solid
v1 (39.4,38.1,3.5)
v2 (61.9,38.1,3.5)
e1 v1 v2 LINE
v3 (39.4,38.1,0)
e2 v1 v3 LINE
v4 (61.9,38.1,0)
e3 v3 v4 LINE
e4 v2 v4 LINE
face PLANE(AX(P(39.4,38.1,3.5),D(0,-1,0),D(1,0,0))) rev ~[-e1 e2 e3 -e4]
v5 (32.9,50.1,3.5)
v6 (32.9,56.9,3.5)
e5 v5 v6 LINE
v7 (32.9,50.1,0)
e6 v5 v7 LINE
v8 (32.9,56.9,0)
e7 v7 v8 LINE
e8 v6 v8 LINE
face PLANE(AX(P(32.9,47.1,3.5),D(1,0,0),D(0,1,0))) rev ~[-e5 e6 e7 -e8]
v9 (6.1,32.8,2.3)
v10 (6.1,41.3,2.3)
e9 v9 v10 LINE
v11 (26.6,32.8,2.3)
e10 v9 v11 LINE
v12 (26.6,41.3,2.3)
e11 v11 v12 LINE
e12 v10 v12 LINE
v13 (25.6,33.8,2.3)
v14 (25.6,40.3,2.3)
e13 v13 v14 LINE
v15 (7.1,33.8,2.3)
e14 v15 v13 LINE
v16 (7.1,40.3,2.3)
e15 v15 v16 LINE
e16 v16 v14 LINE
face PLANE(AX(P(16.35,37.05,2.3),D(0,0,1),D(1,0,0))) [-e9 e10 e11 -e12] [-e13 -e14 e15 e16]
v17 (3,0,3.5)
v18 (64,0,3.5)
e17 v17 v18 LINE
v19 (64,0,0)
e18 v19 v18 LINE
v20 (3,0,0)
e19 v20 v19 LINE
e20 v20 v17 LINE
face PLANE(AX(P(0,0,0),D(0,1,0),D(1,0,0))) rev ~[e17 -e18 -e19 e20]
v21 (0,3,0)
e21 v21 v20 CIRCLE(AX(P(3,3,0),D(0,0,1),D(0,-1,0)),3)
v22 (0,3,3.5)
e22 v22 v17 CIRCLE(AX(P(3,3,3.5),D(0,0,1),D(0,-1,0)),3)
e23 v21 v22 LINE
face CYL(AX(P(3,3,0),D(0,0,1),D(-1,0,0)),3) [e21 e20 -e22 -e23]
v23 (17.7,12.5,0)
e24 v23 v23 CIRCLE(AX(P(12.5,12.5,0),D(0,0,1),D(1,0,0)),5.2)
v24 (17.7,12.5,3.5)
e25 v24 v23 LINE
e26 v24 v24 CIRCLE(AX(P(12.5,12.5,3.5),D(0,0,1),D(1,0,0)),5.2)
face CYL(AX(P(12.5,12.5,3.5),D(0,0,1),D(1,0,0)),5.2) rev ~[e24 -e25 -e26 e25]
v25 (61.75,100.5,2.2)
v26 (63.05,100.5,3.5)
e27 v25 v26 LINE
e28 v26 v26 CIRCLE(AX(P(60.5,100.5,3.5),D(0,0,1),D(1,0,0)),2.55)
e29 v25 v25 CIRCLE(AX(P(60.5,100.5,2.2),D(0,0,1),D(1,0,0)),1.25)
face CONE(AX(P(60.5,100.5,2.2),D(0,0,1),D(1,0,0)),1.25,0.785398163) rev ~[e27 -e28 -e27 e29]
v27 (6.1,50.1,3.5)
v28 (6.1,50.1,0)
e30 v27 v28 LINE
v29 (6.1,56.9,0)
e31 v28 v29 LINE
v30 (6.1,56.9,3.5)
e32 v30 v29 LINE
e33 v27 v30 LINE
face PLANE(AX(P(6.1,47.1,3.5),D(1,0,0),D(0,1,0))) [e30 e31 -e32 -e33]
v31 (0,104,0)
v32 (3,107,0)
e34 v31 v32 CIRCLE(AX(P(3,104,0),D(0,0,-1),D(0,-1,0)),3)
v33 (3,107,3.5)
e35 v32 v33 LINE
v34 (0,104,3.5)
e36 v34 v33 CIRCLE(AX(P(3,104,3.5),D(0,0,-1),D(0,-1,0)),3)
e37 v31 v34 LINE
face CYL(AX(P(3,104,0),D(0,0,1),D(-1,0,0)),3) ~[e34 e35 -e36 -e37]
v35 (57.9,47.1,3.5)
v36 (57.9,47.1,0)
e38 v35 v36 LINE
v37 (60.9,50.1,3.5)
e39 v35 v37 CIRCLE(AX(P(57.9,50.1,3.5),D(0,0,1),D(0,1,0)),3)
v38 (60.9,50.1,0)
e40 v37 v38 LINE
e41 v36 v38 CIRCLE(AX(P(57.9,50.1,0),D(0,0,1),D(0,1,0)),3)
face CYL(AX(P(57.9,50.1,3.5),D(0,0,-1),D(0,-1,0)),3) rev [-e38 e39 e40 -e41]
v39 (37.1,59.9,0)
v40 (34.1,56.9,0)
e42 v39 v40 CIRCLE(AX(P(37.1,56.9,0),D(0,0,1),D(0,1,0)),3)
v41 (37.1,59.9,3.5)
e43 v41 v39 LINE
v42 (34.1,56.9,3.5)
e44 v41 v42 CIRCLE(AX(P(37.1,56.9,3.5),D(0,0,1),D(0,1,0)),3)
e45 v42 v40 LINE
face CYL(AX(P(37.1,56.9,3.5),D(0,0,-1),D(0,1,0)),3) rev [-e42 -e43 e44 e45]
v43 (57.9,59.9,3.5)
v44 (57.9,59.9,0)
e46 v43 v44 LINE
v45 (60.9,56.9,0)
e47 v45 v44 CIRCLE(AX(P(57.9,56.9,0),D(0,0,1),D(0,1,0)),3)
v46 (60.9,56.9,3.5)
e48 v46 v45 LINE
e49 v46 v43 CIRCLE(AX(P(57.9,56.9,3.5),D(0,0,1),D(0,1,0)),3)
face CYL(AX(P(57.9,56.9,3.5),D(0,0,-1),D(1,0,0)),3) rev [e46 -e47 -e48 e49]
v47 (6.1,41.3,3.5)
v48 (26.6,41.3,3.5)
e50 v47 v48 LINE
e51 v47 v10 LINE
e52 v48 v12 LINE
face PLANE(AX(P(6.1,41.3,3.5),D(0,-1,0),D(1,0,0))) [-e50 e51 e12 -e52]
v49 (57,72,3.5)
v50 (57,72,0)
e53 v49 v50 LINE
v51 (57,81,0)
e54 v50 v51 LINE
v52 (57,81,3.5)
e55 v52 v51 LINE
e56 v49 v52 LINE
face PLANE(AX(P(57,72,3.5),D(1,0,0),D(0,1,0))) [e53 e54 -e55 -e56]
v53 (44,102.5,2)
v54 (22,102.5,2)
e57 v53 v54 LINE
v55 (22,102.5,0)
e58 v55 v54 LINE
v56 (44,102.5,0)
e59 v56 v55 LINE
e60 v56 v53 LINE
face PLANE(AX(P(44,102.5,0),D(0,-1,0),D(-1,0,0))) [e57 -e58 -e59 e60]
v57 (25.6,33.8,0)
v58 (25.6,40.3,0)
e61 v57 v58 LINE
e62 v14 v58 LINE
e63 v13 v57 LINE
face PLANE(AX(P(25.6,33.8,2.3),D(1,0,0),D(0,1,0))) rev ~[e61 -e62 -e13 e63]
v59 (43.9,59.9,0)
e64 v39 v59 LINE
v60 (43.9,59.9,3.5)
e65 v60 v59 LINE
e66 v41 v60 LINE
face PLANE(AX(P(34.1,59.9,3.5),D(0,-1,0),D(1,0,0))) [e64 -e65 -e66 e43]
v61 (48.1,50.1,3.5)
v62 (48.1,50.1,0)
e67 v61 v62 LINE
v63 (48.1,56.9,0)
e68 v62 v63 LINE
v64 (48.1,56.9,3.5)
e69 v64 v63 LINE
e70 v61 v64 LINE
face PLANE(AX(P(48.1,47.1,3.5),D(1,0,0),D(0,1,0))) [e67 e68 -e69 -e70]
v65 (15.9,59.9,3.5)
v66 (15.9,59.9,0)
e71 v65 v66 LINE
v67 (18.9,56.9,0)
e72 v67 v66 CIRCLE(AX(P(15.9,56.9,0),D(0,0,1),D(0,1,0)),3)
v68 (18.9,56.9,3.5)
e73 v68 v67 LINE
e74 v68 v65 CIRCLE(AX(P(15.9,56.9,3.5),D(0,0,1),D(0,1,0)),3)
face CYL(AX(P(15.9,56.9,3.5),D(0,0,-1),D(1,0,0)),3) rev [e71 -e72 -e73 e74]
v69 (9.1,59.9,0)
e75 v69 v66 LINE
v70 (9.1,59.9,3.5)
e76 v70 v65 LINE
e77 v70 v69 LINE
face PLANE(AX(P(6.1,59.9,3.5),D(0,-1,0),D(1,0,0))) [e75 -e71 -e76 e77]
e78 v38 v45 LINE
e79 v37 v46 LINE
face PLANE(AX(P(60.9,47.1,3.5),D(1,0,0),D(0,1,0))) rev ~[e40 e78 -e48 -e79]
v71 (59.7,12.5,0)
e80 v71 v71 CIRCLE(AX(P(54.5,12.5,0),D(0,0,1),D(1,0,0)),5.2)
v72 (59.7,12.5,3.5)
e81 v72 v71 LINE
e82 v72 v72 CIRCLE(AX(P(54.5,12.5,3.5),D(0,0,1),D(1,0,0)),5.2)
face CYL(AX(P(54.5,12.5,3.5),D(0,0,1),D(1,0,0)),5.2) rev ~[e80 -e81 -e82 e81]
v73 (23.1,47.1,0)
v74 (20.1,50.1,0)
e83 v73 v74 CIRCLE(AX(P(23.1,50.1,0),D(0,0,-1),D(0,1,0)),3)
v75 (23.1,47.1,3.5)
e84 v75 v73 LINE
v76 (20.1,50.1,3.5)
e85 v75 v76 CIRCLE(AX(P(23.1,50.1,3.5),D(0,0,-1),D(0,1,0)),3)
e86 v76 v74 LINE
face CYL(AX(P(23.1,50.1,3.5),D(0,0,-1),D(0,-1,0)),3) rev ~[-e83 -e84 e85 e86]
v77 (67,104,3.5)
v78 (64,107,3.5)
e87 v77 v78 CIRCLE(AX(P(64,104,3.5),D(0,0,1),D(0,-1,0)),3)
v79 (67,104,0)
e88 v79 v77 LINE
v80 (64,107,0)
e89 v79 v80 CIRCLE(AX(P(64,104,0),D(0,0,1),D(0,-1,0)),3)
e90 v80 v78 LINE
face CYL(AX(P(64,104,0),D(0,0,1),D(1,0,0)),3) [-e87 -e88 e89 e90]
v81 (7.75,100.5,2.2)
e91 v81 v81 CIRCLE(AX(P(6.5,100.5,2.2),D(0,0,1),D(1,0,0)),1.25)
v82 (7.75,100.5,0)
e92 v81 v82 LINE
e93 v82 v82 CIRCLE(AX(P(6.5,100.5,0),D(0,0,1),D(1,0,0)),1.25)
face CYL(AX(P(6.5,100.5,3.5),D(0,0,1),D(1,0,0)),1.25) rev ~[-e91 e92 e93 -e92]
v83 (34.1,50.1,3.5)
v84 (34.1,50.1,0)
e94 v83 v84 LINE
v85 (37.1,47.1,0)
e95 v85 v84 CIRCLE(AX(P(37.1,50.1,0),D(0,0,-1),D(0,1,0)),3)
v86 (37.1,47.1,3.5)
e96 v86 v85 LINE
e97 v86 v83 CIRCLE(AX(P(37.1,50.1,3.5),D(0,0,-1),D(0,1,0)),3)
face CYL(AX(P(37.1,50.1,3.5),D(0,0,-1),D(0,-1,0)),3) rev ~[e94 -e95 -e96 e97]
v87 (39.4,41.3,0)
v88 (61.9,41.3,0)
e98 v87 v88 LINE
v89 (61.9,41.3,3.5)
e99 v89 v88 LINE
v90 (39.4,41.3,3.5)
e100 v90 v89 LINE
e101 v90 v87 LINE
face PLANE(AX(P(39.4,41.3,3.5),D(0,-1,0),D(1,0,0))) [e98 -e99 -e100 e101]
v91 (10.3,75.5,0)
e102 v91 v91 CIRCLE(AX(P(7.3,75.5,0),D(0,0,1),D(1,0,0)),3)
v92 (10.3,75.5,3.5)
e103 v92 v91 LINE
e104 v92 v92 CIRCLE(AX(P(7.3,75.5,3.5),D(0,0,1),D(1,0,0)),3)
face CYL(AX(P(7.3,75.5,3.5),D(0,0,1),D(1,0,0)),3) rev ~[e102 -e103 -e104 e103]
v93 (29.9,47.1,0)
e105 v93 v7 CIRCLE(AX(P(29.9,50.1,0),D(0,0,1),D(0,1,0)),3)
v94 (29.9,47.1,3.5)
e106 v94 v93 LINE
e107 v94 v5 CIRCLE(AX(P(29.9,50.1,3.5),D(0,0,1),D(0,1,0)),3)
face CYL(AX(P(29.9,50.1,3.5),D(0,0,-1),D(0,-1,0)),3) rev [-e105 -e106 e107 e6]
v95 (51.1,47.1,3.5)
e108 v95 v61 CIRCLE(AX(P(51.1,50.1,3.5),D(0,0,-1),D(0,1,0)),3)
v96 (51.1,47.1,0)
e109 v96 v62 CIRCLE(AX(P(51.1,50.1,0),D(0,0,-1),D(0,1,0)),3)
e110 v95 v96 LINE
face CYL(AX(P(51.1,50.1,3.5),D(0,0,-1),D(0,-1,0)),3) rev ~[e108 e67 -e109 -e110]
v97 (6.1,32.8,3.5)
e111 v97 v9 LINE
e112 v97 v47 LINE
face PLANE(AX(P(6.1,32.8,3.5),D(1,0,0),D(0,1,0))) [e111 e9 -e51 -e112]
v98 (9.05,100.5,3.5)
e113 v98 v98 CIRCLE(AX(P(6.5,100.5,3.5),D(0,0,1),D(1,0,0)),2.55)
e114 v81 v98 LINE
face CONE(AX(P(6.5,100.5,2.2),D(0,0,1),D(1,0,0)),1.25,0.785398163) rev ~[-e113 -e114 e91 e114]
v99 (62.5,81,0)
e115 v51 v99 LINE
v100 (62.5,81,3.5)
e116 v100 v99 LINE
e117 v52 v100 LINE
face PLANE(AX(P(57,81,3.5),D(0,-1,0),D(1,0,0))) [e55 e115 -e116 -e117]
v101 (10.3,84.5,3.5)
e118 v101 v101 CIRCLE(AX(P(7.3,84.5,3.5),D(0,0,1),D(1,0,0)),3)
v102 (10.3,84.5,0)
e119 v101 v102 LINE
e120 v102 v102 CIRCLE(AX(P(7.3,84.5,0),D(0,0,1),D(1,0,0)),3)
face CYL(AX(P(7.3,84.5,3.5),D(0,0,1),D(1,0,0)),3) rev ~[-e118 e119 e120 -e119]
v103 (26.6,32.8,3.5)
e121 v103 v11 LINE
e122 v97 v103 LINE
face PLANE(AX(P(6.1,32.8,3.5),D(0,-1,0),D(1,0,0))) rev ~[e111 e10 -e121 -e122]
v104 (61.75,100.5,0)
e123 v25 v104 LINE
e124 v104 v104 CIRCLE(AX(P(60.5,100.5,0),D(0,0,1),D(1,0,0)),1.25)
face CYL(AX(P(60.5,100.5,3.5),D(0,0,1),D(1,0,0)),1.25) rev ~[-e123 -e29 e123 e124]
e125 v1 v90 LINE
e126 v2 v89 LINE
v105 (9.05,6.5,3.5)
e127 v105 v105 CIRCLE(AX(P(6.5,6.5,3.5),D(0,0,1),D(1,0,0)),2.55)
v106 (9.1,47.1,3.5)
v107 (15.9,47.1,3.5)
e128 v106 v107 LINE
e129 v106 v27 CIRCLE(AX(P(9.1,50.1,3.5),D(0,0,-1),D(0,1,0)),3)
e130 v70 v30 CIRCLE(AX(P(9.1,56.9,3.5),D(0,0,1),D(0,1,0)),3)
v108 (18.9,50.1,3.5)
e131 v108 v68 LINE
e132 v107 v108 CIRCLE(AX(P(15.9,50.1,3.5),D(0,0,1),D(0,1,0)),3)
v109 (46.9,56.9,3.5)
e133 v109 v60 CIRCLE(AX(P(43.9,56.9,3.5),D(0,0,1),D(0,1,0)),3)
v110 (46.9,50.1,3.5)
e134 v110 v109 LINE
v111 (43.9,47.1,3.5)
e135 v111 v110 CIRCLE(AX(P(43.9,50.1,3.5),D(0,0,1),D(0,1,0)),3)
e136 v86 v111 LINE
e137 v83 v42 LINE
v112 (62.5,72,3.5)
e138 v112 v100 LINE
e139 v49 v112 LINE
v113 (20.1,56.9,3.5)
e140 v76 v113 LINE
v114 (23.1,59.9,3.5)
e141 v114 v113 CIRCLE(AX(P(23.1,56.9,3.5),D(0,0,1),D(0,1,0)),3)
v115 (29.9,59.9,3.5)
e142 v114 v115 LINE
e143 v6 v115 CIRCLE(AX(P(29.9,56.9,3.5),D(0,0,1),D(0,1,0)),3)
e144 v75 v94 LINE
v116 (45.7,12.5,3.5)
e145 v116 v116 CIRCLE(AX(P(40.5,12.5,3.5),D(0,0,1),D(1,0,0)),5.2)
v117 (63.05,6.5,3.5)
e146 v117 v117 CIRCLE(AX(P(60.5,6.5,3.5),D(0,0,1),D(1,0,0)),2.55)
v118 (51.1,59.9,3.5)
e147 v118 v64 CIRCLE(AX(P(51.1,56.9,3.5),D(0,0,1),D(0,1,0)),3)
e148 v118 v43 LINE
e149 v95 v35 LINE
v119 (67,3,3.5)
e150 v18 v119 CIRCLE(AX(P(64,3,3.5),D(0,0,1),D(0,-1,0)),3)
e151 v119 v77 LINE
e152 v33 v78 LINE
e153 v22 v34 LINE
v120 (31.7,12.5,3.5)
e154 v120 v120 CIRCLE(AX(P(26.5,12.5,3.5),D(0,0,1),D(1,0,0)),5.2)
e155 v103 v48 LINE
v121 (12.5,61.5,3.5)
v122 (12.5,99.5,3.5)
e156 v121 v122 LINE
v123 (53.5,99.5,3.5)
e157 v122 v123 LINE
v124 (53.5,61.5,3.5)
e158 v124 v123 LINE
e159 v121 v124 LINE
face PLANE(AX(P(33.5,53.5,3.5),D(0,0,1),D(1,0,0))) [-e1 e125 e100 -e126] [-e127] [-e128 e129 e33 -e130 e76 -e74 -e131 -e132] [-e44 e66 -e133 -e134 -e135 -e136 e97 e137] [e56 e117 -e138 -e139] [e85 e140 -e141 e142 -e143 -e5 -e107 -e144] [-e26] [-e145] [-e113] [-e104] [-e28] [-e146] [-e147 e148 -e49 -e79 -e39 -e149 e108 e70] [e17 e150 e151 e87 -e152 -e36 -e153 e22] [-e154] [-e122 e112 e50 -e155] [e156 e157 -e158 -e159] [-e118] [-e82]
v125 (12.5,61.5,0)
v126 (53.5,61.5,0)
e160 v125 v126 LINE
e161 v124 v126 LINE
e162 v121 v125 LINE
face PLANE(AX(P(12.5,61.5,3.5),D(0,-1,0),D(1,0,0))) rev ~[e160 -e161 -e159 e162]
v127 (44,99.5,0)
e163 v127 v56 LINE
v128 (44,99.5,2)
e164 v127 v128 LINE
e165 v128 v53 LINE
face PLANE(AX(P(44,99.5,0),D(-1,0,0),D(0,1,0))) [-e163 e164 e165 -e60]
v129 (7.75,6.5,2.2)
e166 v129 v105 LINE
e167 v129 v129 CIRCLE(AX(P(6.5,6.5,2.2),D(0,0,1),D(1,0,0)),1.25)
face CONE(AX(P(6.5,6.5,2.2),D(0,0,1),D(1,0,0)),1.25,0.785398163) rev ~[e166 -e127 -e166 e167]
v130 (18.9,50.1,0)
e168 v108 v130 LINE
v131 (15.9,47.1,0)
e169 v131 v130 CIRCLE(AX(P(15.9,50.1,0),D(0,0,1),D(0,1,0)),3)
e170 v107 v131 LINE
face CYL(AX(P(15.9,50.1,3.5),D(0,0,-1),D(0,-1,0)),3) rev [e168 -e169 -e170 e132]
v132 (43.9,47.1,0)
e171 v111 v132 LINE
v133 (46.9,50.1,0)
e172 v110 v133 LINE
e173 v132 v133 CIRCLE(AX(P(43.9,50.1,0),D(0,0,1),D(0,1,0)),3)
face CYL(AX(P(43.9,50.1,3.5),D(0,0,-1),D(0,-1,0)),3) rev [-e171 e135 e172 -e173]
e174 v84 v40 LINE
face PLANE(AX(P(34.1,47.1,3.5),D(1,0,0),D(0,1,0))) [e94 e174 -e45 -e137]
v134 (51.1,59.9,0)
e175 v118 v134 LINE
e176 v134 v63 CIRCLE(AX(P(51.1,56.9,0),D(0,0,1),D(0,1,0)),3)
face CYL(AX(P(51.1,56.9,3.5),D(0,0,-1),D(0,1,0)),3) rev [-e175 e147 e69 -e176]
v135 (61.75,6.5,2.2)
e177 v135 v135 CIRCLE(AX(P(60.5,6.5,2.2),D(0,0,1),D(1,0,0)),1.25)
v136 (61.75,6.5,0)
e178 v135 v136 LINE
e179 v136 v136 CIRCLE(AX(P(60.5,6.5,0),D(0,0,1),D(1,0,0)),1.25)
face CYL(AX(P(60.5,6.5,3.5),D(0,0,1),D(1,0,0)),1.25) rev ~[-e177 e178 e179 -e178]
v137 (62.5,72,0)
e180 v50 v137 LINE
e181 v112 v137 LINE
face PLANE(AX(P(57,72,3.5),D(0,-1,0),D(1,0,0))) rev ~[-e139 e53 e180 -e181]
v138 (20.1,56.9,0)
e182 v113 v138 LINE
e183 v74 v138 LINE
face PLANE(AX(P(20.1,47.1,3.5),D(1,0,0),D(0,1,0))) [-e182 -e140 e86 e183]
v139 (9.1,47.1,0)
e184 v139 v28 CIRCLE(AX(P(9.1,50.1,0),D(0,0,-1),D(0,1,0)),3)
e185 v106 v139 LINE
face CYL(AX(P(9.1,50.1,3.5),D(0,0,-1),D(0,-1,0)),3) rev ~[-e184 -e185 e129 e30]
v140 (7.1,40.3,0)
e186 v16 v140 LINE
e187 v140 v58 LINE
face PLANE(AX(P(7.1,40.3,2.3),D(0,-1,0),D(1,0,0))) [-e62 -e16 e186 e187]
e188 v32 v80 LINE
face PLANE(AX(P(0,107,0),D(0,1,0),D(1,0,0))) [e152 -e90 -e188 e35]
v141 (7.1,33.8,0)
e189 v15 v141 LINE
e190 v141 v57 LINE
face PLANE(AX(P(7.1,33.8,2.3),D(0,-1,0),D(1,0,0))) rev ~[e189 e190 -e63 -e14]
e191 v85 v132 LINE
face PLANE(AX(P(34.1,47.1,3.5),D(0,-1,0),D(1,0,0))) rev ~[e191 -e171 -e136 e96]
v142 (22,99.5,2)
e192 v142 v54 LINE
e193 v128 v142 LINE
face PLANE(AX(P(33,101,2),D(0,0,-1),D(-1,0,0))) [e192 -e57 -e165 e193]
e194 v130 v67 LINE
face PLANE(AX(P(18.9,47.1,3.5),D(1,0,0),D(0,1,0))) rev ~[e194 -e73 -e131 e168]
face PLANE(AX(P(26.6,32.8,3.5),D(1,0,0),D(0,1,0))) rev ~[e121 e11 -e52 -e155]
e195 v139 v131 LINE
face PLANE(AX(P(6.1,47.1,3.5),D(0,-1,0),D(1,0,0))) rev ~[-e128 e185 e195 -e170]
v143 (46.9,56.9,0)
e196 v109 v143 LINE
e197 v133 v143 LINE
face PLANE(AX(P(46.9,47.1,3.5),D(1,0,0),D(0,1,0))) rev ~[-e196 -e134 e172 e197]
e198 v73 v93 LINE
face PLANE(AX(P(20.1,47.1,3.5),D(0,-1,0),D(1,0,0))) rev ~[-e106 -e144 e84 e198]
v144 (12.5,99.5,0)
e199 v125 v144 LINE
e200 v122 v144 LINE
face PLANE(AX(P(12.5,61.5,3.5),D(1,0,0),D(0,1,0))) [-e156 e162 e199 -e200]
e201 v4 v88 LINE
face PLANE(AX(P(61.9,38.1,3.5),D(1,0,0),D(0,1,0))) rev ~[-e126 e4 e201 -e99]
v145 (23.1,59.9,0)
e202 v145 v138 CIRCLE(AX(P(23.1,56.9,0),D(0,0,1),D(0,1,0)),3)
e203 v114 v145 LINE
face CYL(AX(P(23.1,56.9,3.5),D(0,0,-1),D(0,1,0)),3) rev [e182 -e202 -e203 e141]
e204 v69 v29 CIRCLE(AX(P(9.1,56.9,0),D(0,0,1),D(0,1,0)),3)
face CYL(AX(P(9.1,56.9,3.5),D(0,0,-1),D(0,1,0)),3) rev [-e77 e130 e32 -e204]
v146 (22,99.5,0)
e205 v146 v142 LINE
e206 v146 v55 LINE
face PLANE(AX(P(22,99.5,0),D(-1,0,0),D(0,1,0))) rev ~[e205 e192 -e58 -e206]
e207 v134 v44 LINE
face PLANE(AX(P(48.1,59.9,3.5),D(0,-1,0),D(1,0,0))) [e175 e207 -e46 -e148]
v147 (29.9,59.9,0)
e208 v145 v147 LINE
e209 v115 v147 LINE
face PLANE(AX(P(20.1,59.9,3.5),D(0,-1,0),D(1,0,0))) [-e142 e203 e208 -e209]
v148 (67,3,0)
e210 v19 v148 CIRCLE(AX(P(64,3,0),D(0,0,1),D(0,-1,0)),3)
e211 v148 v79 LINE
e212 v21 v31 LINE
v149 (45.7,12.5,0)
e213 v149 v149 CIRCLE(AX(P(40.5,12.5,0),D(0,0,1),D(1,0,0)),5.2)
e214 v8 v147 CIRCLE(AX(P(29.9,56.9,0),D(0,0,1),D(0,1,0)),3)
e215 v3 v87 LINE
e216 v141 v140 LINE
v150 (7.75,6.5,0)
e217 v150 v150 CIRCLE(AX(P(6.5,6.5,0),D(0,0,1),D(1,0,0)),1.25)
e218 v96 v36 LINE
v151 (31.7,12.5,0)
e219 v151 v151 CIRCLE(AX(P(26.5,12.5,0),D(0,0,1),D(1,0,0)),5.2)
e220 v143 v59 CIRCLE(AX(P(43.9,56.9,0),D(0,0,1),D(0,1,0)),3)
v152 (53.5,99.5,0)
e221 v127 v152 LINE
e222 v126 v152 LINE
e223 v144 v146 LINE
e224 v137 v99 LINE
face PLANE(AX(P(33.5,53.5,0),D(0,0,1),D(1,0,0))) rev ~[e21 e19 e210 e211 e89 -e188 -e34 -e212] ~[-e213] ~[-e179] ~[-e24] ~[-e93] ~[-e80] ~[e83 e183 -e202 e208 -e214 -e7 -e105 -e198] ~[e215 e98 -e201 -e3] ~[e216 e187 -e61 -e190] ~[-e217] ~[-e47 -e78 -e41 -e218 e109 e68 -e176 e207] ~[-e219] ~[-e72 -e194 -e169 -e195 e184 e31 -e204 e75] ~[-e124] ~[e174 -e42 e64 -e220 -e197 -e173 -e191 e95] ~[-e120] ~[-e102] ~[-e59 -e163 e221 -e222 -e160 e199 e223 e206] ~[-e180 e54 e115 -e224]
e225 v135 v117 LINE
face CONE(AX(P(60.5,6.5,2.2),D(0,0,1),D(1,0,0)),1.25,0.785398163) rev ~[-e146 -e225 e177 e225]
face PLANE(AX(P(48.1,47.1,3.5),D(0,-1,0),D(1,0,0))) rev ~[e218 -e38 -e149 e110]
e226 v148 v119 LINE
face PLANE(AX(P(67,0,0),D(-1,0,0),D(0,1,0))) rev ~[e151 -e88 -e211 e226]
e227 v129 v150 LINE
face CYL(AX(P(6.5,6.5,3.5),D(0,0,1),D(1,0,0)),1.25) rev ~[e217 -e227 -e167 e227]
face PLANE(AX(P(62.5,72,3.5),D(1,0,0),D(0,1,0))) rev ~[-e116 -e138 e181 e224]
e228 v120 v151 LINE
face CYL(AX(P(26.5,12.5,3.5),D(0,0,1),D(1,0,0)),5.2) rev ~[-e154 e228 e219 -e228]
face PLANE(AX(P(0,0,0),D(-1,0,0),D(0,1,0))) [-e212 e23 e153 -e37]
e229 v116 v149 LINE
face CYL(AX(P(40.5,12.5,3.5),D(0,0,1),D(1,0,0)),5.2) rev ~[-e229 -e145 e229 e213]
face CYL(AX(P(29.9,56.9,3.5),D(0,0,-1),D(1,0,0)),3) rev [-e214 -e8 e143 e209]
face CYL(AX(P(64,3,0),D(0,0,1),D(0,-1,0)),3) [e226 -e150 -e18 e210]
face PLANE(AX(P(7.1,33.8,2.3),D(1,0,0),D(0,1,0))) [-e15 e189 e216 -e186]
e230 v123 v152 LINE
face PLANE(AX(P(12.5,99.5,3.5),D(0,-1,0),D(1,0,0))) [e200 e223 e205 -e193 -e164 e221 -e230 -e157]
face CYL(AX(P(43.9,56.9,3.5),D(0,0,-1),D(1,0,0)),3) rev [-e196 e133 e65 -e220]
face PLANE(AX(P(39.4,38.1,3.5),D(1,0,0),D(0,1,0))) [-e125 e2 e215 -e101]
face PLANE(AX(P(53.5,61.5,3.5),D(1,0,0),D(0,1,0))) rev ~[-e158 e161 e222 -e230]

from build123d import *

# Parameters (mm, degrees)
SKICA1_W                 = 67
SKICA1_H                 = 107
P_IDAT_VYSUNUT_M1_DEPTH  = 3.5
ZAOBLIT1_R               = 3
SKICA2_R                 = 1.25
SKICA2_R_2               = 3
SKICA2_R_3               = 5.2
SKICA2_W                 = 41
SKICA2_H                 = 38
SKICA2_W_2               = 5.5
SKICA2_H_2               = 9
SKICA2_W_3               = 12.8
SKICA2_H_3               = 12.8
SKICA2_W_4               = 22.5
SKICA2_H_4               = 3.2
ODEBRAT_VYSUNUT_M1_DEPTH = 4.5
ZAOBLIT2_R               = 3
SKICA3_W                 = 22
SKICA3_H                 = 3
ODEBRAT_VYSUNUT_M2_DEPTH = 2
ZKOSEN_1_SIZE            = 1.3
SKICA4_W                 = 20.5
SKICA4_H                 = 8.5
ODEBRAT_VYSUNUT_M3_DEPTH = 1.2
SKICA5_W                 = 18.5
SKICA5_H                 = 6.5
ODEBRAT_VYSUNUT_M4_DEPTH = 3.3


with BuildPart() as part:
    # Skica1 → Přidat vysunutím1 (new body)
    with BuildSketch(Plane.XY):
        with Locations((33.5, 53.5)):
            Rectangle(SKICA1_W, SKICA1_H)
    extrude(amount=P_IDAT_VYSUNUT_M1_DEPTH)

    # Zaoblit1
    zaoblit1_edges = [part.edges().sort_by_distance(p)[0] for p in [
        (0, 107, 1.75),
        (67, 107, 1.75),
        (67, 0, 1.75),
        (0, 0, 1.75),
    ]]
    fillet(zaoblit1_edges, radius=ZAOBLIT1_R)

    # Skica2 → Odebrat vysunutím1 (cut, through all)
    with BuildSketch(Plane.XY.offset(3.5)):
        with Locations((6.5, 100.5)):
            Circle(SKICA2_R)
        with Locations((60.5, 100.5)):
            Circle(SKICA2_R)
        with Locations((6.5, 6.5)):
            Circle(SKICA2_R)
        with Locations((60.5, 6.5)):
            Circle(SKICA2_R)
        with Locations((7.3, 75.5)):
            Circle(SKICA2_R_2)
        with Locations((12.5, 12.5)):
            Circle(SKICA2_R_3)
        with Locations((26.5, 12.5)):
            Circle(SKICA2_R_3)
        with Locations((40.5, 12.5)):
            Circle(SKICA2_R_3)
        with Locations((54.5, 12.5)):
            Circle(SKICA2_R_3)
        with Locations((7.3, 84.5)):
            Circle(SKICA2_R_2)
        with Locations((33, 80.5)):
            Rectangle(SKICA2_W, SKICA2_H)
        with Locations((59.75, 76.5)):
            Rectangle(SKICA2_W_2, SKICA2_H_2)
        with Locations((54.5, 53.5)):
            Rectangle(SKICA2_W_3, SKICA2_H_3)
        with Locations((40.5, 53.5)):
            Rectangle(SKICA2_W_3, SKICA2_H_3)
        with Locations((26.5, 53.5)):
            Rectangle(SKICA2_W_3, SKICA2_H_3)
        with Locations((12.5, 53.5)):
            Rectangle(SKICA2_W_3, SKICA2_H_3)
        with Locations((50.65, 39.7)):
            Rectangle(SKICA2_W_4, SKICA2_H_4)
    extrude(amount=-ODEBRAT_VYSUNUT_M1_DEPTH, mode=Mode.SUBTRACT)

    # Zaoblit2
    zaoblit2_edges = [part.edges().sort_by_distance(p)[0] for p in [
        (6.1, 47.1, 1.75),
        (6.1, 59.9, 1.75),
        (18.9, 59.9, 1.75),
        (18.9, 47.1, 1.75),
        (20.1, 47.1, 1.75),
        (20.1, 59.9, 1.75),
        (32.9, 59.9, 1.75),
        (32.9, 47.1, 1.75),
        (34.1, 47.1, 1.75),
        (34.1, 59.9, 1.75),
        (46.9, 59.9, 1.75),
        (46.9, 47.1, 1.75),
        (48.1, 47.1, 1.75),
        (48.1, 59.9, 1.75),
        (60.9, 59.9, 1.75),
        (60.9, 47.1, 1.75),
    ]]
    fillet(zaoblit2_edges, radius=ZAOBLIT2_R)

    # Skica3 → Odebrat vysunutím2 (cut)
    with BuildSketch(Plane(origin=(0, 0, 0), x_dir=(-1, 0, 0), z_dir=(0, 0, -1))):
        with Locations((-33, 101)):
            Rectangle(SKICA3_W, SKICA3_H)
    extrude(amount=-ODEBRAT_VYSUNUT_M2_DEPTH, mode=Mode.SUBTRACT)

    # Zkosení1
    zkosen_1_edges = [part.edges().sort_by_distance(p)[0] for p in [
        (5.25, 6.5, 3.5),
        (59.25, 6.5, 3.5),
        (5.25, 100.5, 3.5),
        (59.25, 100.5, 3.5),
    ]]
    chamfer(zkosen_1_edges, length=ZKOSEN_1_SIZE)

    # Skica4 → Odebrat vysunutím3 (cut)
    with BuildSketch(Plane.XY.offset(3.5)):
        with Locations((16.35, 37.05)):
            Rectangle(SKICA4_W, SKICA4_H)
    extrude(amount=-ODEBRAT_VYSUNUT_M3_DEPTH, mode=Mode.SUBTRACT)

    # Skica5 → Odebrat vysunutím4 (cut, through all)
    with BuildSketch(Plane.XY.offset(2.3)):
        with Locations((16.35, 37.05)):
            Rectangle(SKICA5_W, SKICA5_H)
    extrude(amount=-ODEBRAT_VYSUNUT_M4_DEPTH, mode=Mode.SUBTRACT)


solid = part.part
